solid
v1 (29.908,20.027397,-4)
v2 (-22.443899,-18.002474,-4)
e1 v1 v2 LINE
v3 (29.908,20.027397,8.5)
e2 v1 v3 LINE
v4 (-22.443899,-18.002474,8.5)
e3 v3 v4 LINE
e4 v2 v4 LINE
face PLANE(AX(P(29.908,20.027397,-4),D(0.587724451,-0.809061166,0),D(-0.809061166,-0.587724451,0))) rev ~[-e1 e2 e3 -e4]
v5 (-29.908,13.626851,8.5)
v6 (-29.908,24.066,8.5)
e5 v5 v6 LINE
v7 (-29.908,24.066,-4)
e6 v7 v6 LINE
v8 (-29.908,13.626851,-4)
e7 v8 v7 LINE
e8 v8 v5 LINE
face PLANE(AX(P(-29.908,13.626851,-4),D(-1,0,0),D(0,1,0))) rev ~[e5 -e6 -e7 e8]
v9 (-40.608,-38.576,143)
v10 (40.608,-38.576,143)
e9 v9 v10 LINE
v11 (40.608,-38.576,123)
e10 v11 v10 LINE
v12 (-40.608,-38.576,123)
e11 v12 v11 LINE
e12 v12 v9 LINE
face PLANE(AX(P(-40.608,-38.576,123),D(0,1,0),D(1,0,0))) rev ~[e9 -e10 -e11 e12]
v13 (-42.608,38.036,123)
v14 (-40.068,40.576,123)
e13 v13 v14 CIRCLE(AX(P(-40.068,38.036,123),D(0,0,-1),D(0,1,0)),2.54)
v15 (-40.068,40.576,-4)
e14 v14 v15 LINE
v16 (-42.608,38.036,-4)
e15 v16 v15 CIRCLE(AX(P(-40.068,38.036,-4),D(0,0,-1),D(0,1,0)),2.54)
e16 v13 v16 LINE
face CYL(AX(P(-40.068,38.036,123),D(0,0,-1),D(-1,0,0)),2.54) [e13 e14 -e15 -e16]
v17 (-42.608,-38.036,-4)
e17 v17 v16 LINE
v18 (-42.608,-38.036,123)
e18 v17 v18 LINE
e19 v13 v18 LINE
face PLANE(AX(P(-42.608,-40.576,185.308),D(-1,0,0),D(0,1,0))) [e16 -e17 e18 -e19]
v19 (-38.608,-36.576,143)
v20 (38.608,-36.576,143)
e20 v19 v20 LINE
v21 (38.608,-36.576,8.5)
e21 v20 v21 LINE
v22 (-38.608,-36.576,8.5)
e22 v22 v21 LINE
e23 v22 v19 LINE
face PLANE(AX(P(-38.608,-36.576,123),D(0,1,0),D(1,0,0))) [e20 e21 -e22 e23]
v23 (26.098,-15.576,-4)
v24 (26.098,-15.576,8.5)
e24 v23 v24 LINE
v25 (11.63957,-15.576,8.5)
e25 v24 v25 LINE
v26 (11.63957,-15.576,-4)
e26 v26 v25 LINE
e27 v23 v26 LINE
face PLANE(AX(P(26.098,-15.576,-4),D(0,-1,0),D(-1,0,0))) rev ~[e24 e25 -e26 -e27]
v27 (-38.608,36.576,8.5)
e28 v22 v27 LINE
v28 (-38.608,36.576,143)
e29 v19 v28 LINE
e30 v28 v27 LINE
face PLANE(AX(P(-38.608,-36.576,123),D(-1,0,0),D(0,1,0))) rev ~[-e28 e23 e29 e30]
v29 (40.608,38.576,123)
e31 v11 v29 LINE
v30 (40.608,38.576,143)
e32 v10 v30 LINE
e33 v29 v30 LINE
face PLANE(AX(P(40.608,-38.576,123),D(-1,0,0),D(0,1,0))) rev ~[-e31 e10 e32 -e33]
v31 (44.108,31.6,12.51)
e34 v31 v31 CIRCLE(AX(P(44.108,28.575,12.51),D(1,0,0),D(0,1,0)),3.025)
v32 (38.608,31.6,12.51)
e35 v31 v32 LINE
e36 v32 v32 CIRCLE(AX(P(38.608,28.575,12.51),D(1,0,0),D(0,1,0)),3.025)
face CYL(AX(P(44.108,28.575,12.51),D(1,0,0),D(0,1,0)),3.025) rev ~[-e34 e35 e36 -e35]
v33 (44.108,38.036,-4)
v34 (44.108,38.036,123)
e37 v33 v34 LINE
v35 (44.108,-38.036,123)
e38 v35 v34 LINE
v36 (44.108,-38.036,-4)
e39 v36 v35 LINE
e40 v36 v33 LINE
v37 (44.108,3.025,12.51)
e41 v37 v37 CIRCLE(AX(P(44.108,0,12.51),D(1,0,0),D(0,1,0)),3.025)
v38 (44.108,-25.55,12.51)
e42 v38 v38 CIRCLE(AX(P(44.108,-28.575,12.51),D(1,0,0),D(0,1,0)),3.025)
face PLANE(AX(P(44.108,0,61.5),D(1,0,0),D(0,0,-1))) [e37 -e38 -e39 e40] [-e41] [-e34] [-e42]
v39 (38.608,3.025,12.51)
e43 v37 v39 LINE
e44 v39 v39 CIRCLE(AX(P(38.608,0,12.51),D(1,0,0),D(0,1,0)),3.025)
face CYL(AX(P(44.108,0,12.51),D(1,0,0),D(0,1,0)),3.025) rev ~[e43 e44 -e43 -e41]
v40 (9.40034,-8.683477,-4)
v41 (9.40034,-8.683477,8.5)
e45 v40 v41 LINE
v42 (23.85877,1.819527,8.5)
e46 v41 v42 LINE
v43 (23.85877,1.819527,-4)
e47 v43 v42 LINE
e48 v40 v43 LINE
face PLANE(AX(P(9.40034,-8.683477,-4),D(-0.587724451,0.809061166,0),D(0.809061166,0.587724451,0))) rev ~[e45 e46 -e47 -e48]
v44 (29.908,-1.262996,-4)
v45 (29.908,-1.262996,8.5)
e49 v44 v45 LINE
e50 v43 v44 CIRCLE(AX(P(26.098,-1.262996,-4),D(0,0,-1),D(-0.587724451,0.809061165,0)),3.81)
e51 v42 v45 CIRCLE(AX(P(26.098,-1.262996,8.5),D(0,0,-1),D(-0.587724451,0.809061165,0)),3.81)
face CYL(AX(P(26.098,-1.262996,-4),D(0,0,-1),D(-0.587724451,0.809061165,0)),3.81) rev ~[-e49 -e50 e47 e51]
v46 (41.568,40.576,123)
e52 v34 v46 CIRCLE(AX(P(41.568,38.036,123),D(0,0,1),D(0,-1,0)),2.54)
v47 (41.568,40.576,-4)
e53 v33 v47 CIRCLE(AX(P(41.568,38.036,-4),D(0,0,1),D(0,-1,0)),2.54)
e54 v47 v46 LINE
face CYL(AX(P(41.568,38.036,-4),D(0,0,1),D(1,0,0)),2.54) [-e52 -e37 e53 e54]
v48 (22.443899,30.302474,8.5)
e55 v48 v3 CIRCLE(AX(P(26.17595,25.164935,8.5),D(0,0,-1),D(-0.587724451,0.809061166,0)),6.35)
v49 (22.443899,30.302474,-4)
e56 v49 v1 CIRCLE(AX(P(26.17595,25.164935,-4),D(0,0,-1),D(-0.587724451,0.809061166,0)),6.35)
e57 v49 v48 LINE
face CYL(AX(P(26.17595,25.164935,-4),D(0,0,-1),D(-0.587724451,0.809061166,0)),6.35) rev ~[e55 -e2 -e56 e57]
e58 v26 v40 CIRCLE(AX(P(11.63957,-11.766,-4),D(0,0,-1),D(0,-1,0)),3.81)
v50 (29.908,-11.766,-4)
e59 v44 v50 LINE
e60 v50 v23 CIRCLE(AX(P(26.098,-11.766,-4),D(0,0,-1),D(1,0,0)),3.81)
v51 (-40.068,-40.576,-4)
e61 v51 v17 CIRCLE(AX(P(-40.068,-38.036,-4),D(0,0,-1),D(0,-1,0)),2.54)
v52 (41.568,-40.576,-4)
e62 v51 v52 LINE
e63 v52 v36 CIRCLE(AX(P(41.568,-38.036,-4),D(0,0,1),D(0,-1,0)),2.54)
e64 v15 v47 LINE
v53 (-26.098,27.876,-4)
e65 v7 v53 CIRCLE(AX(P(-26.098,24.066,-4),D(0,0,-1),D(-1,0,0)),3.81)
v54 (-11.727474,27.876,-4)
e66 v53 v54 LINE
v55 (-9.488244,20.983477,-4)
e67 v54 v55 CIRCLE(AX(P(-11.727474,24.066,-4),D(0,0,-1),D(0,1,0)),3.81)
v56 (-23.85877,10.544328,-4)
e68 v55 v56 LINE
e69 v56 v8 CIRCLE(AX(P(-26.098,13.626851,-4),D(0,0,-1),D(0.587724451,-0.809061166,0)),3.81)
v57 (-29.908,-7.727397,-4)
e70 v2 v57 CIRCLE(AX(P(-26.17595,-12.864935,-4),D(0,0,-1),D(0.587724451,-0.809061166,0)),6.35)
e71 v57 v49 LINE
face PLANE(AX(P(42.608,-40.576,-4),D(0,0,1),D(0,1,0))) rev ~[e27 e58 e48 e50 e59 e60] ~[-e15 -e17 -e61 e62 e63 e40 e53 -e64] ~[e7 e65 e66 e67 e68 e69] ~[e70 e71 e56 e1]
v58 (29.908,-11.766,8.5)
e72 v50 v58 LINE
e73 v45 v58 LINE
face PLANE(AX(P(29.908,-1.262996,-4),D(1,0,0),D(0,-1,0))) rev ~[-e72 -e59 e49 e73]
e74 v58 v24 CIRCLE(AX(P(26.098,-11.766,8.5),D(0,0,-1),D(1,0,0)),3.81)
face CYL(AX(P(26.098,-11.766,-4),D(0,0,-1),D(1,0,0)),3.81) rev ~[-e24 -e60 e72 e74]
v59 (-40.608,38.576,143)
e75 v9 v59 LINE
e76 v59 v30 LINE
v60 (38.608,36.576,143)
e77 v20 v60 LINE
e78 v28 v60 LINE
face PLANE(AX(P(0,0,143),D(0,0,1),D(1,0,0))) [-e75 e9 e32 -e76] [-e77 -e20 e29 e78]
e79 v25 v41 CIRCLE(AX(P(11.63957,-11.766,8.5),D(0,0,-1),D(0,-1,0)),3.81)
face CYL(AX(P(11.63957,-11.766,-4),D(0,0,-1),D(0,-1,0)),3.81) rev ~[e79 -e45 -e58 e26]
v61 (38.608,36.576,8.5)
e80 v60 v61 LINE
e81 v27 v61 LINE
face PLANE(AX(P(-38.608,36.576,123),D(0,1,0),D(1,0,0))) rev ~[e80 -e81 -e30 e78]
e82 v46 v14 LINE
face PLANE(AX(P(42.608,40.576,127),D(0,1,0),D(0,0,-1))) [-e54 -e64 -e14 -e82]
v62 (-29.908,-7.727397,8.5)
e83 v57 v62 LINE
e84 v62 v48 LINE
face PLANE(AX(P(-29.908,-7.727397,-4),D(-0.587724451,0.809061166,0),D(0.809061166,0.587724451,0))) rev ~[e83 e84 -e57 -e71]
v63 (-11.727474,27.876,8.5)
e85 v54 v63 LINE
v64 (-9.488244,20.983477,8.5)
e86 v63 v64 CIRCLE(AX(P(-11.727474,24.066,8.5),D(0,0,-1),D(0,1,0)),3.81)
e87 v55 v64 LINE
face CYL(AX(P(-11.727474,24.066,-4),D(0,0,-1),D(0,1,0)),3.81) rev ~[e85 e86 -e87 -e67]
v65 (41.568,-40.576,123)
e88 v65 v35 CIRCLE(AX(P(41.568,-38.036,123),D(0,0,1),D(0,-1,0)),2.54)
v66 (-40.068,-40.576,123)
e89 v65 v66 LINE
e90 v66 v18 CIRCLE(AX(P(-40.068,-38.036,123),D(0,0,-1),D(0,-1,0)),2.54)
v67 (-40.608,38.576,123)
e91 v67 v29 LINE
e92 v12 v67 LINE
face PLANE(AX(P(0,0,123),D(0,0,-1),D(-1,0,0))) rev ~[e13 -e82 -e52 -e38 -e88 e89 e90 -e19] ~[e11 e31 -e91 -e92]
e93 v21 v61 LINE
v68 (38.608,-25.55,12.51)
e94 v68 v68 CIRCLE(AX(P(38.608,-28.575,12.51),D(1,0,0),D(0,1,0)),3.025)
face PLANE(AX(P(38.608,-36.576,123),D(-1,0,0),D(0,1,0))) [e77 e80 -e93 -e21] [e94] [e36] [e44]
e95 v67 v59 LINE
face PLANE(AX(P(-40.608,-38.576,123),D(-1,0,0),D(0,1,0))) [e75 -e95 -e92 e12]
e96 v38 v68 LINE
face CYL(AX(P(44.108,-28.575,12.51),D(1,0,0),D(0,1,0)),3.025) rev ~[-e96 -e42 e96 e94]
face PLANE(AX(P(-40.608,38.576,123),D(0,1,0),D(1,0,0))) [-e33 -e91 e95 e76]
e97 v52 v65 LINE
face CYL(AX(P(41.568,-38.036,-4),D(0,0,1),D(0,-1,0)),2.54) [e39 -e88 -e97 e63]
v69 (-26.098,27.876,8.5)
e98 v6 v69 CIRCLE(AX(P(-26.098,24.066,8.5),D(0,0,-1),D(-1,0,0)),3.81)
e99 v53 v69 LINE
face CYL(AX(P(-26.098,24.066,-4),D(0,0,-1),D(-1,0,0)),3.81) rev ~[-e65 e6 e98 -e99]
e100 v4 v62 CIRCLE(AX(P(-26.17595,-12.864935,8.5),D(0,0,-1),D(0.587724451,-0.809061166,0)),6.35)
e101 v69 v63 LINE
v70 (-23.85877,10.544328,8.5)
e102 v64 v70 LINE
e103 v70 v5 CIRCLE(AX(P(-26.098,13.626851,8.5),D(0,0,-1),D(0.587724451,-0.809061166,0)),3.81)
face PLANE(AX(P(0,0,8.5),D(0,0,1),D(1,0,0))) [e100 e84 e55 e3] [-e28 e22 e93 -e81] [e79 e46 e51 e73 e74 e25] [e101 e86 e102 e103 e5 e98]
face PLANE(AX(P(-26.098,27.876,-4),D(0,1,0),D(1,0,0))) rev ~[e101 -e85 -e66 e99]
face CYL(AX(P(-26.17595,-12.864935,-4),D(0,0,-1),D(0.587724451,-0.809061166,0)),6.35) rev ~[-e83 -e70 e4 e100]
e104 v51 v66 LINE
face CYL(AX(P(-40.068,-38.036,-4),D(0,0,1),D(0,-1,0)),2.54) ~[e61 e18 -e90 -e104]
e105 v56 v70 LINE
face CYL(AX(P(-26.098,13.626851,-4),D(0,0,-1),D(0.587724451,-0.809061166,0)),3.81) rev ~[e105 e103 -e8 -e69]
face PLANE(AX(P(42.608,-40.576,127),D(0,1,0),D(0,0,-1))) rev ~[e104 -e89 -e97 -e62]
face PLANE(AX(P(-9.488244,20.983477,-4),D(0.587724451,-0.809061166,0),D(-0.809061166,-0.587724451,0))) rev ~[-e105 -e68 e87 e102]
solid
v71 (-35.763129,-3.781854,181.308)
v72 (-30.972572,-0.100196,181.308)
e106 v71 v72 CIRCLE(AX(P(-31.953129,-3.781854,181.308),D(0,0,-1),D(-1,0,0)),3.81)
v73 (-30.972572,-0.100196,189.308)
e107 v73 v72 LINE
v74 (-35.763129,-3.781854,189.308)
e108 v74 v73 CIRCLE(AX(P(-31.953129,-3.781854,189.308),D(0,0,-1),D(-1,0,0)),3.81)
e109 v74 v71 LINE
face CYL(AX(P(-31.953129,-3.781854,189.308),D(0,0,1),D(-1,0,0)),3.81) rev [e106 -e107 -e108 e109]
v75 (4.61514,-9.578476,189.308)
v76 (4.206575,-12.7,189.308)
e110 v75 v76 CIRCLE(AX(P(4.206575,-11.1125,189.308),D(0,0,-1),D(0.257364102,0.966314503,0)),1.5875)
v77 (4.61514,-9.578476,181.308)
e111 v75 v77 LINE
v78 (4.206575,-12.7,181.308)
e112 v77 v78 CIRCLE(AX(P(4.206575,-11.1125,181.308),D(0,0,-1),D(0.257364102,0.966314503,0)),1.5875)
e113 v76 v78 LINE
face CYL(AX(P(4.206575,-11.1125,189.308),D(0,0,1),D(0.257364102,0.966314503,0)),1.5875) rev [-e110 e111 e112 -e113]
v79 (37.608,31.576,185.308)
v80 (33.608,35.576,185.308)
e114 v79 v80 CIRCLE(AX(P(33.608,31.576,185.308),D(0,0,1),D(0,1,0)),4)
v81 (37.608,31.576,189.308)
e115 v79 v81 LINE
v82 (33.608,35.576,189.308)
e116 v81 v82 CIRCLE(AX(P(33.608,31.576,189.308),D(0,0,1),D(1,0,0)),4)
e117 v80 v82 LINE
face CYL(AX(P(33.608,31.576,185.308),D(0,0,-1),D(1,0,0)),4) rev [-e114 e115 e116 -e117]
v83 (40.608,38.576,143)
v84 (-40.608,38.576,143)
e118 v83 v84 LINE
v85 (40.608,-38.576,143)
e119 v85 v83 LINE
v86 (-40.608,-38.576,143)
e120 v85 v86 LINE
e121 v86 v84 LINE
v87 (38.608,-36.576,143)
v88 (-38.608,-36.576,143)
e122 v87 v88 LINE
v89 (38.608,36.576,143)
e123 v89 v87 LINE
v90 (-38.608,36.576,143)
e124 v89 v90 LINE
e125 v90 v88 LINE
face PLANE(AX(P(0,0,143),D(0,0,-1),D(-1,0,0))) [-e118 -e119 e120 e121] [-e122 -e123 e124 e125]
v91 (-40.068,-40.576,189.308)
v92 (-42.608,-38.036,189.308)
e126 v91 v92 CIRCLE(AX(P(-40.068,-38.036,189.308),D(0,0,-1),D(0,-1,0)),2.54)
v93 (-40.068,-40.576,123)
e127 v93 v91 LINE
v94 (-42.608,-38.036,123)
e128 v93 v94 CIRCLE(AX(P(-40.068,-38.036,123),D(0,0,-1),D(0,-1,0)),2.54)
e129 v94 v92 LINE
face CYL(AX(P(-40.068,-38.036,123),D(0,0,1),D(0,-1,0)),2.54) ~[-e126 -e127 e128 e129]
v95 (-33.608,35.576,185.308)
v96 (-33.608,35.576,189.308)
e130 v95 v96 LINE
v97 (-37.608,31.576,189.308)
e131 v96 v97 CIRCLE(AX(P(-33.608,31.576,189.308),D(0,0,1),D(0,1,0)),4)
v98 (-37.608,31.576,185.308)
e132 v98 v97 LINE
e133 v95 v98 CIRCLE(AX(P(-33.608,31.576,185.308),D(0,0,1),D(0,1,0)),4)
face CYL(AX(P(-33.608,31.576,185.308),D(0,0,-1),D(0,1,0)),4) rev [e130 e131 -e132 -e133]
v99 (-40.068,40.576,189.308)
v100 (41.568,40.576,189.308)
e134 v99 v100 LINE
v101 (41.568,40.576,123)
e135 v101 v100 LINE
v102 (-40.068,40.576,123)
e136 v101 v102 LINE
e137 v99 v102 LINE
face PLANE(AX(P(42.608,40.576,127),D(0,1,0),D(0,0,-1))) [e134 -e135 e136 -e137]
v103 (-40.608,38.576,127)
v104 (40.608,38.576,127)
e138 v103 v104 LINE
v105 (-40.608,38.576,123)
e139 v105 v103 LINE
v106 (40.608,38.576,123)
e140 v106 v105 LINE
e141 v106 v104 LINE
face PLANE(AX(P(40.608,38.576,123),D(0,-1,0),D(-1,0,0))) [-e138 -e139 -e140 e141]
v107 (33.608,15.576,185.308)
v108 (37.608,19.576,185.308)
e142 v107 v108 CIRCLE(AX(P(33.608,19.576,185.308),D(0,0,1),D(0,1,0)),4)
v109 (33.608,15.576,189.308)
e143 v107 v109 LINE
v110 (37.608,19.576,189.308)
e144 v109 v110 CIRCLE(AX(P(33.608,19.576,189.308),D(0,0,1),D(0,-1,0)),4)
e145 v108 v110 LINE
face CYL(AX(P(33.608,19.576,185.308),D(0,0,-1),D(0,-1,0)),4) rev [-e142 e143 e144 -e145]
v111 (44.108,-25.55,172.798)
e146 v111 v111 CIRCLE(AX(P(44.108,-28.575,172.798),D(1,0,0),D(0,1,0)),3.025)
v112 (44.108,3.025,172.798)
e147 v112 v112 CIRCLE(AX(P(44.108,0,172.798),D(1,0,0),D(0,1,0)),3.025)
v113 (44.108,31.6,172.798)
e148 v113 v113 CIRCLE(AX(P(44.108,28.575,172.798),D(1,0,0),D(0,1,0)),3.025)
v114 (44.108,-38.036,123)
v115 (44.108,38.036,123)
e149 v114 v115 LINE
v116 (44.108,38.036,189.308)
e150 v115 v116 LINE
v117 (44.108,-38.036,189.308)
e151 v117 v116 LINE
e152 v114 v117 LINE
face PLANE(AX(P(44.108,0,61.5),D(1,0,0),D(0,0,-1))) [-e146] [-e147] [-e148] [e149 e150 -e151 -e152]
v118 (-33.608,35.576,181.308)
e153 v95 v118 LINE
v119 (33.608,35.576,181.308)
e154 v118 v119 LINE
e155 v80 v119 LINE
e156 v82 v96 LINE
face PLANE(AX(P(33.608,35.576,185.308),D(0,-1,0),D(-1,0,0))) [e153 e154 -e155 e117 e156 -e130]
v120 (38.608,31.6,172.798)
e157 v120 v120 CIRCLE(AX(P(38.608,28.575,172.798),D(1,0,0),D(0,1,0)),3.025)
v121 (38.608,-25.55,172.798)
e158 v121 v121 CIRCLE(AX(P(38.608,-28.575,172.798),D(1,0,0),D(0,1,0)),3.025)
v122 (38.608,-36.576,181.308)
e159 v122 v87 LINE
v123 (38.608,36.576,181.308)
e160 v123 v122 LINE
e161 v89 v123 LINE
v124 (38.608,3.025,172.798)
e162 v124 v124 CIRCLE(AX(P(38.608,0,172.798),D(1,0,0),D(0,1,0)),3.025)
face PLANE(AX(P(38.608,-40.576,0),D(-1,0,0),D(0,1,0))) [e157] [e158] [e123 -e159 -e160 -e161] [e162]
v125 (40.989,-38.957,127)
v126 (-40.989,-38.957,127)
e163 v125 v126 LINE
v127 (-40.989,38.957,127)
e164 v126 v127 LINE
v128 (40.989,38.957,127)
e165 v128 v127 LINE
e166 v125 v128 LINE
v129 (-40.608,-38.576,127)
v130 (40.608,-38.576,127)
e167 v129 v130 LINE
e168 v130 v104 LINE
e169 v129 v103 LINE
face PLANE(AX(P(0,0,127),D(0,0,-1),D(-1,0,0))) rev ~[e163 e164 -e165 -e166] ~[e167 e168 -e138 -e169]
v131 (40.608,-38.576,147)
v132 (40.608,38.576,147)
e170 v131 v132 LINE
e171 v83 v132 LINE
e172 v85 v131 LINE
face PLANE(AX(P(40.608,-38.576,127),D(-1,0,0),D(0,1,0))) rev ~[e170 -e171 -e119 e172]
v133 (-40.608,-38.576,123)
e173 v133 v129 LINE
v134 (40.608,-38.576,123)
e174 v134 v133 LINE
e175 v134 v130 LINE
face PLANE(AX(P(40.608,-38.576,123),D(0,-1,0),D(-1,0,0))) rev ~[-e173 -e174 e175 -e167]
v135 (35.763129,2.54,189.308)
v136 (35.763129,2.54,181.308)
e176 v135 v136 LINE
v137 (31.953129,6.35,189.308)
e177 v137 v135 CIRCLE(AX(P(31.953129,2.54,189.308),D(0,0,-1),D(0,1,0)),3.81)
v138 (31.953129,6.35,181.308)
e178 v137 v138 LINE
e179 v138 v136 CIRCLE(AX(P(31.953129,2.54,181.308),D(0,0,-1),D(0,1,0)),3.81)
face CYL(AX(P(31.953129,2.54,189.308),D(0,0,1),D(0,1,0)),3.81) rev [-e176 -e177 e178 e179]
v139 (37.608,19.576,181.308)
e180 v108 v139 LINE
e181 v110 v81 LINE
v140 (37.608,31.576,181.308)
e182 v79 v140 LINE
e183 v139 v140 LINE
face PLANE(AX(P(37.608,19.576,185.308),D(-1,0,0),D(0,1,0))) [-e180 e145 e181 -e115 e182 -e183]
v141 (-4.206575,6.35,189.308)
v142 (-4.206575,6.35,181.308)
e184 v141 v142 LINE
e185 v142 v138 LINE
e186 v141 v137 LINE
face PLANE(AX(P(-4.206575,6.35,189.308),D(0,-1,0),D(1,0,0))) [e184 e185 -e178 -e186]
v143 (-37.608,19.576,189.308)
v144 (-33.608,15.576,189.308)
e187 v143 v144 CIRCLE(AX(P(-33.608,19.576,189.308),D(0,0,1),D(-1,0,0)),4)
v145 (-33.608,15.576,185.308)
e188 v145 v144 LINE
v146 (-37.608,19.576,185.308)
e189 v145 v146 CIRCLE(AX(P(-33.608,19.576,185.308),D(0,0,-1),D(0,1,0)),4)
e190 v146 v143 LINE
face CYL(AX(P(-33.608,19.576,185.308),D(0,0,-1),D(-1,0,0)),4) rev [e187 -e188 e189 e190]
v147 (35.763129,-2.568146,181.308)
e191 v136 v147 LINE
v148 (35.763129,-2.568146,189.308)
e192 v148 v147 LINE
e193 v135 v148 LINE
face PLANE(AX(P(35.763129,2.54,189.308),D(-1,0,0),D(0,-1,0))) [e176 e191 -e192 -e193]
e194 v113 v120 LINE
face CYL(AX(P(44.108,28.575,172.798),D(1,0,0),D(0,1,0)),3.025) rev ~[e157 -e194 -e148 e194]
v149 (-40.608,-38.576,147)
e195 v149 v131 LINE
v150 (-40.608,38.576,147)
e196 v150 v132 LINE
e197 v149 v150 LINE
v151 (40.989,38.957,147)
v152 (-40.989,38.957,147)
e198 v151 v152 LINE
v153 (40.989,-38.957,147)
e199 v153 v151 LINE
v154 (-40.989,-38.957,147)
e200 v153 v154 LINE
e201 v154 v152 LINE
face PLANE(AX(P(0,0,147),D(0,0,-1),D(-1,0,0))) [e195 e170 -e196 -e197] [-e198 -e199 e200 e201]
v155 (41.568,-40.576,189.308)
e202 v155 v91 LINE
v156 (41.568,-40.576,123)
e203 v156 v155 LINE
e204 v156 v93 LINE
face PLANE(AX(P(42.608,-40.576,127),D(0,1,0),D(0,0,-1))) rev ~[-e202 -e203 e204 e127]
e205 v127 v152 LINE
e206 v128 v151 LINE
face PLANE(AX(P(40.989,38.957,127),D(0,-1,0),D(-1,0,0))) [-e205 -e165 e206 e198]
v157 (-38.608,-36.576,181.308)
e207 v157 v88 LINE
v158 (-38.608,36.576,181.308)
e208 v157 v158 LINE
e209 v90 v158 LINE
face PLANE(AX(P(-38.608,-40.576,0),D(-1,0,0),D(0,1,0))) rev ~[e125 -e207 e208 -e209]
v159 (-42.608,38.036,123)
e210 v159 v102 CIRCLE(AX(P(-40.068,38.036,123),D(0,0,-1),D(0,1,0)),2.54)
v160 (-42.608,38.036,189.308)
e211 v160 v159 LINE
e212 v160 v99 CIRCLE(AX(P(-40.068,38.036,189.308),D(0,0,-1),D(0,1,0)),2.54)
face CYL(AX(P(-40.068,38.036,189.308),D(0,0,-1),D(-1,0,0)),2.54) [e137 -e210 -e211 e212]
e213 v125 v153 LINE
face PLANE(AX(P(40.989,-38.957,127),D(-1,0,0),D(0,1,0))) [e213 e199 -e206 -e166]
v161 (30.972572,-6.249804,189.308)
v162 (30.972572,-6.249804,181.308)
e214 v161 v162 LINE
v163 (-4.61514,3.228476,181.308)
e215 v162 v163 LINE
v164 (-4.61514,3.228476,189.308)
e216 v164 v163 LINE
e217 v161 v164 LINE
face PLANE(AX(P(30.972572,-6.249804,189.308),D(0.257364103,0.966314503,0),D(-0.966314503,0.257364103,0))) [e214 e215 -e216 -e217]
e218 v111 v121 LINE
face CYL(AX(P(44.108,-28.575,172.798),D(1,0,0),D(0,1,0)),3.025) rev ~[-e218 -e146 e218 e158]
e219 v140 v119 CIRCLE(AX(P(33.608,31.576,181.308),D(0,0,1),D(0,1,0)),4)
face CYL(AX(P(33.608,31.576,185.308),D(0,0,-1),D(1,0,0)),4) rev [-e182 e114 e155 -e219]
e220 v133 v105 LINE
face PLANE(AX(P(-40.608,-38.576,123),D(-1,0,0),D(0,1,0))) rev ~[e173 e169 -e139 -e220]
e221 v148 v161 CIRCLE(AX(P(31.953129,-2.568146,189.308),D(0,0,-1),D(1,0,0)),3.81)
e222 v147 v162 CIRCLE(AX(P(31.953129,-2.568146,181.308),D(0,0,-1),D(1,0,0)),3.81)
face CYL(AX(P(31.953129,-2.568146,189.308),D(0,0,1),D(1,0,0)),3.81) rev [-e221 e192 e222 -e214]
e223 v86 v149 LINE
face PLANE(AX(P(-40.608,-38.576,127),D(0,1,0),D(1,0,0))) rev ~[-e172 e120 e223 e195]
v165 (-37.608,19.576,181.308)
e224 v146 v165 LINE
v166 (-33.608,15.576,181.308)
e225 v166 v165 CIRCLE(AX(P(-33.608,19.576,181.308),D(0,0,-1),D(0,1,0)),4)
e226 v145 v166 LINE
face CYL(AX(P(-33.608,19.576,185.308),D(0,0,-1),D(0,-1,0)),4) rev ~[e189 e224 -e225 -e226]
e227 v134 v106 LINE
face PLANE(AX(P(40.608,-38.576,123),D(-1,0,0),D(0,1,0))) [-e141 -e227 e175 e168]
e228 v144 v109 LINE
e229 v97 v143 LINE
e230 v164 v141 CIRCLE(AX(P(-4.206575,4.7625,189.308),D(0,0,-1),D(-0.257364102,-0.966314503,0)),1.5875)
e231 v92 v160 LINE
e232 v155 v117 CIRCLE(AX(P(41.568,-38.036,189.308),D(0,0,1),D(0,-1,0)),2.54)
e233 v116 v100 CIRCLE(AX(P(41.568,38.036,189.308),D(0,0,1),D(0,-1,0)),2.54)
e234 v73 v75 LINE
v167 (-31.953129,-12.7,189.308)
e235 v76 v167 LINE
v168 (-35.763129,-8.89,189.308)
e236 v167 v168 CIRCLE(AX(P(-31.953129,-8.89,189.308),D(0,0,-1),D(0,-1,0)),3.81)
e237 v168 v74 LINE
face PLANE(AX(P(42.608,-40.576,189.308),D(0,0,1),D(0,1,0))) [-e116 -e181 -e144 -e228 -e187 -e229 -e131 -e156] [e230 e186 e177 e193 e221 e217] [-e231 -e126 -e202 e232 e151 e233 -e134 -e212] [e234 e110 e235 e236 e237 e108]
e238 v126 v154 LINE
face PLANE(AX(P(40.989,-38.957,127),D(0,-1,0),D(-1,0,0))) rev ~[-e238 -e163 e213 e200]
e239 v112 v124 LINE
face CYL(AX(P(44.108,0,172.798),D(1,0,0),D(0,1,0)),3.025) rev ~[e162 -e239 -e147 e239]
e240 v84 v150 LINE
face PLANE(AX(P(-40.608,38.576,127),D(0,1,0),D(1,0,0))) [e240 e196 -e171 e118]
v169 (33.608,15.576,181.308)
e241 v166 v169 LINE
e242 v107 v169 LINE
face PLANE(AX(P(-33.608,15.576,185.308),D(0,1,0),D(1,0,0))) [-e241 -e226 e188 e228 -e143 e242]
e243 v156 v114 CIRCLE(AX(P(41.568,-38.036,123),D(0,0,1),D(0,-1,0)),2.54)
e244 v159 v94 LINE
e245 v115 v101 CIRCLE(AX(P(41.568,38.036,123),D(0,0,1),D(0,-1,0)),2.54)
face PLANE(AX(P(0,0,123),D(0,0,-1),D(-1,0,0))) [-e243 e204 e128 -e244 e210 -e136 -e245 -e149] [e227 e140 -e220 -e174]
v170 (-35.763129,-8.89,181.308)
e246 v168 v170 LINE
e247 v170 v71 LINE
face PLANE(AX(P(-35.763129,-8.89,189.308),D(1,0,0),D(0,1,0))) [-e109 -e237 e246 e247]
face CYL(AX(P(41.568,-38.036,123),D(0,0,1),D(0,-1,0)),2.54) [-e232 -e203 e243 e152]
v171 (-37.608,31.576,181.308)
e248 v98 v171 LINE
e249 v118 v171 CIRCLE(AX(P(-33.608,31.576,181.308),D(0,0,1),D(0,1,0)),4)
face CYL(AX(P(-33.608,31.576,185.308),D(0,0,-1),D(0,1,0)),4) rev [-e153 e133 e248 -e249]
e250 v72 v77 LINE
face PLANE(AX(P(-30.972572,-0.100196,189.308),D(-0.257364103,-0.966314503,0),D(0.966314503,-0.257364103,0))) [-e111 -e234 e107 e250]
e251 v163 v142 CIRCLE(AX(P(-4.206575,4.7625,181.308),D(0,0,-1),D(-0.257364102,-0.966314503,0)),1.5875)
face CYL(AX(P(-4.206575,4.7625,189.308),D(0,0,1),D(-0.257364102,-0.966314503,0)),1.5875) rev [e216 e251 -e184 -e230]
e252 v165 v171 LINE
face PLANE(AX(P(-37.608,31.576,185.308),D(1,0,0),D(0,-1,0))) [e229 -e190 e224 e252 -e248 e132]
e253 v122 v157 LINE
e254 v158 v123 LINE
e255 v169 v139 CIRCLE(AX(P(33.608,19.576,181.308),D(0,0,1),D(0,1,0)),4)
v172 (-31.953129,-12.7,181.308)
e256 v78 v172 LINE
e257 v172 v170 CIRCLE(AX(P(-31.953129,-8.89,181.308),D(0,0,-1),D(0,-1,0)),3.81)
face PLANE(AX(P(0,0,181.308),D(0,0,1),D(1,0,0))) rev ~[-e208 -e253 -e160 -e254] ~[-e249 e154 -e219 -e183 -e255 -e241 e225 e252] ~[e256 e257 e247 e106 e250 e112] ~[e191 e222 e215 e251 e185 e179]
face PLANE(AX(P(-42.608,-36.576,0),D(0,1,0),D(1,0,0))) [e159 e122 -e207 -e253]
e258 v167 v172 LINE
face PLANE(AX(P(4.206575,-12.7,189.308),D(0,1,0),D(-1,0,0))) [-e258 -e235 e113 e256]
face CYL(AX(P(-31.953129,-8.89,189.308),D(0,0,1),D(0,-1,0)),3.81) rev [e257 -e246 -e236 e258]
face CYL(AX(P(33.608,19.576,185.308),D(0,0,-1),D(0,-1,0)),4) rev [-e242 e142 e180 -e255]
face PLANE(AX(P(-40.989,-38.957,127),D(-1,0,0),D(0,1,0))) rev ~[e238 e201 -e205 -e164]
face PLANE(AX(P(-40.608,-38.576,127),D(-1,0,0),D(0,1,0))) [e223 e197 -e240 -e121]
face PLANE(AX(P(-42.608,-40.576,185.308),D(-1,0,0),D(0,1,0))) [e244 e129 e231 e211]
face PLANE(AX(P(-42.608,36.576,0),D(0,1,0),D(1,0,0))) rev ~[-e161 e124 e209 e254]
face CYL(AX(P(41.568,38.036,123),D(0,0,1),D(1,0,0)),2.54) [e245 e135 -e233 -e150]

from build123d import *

# Parameters (mm, degrees)
SKETCH1_W            = 85.216
SKETCH1_H            = 81.152
BOSS_EXTRUDE1_DEPTH  = 185.308
SHELL2_T             = -4
SHELL3_T             = -4
SKETCH4_W            = 81.216
SKETCH4_H            = 77.152
SKETCH4_W_2          = 77.216
SKETCH4_H_2          = 73.152
BOSS_EXTRUDE2_DEPTH  = 20
SKETCH5_W            = 81.978
SKETCH5_H            = 77.914
SKETCH5_W_2          = 77.216
SKETCH5_H_2          = 73.152
CUT_EXTRUDE2_DEPTH   = 20
SKETCH6_W            = 75.216
SKETCH6_H            = 20
CUT_EXTRUDE3_DEPTH   = 4
FILLET3_R            = 4
SKETCH7_W            = 85.216
SKETCH7_H            = 81.152
BOSS_EXTRUDE3_DEPTH  = 4
SKETCH8_W            = 85.216
SKETCH8_H            = 81.152
BOSS_EXTRUDE4_DEPTH  = 4
SKETCH9_R            = 3.025
CUT_EXTRUDE4_DEPTH   = 6
SKETCH10_W           = 77.216
SKETCH10_H           = 73.152
BOSS_EXTRUDE5_DEPTH  = 4.500000096
CUT_EXTRUDE5_DEPTH   = 12.500000096
CUT_EXTRUDE6_DEPTH   = 8
SKETCH13_W           = 62.308
SKETCH13_H           = 81.152
BOSS_EXTRUDE7_DEPTH  = 1.5
SKETCH15_W           = 131
SKETCH15_H           = 81.152
BOSS_EXTRUDE8_DEPTH  = 1.5
FILLET4_R            = 2.54
FILLET5_R            = 2.54
SKETCH16_R           = 3.025
CUT_EXTRUDE9_DEPTH   = 19.5
SKETCH18_W           = 62.209478129
SKETCH18_H           = 16.943734599
BOSS_EXTRUDE9_DEPTH  = 8
SKETCH19_W           = 60.72535539
SKETCH19_H           = 14.841227386
BOSS_EXTRUDE10_DEPTH = 12.5
SKETCH20_W           = 81.216
SKETCH20_H           = 77.152
SKETCH20_W_2         = 77.216
SKETCH20_H_2         = 73.152
BOSS_EXTRUDE11_DEPTH = 20
SKETCH21_W           = 81.216
SKETCH21_H           = 77.152
CUT_EXTRUDE10_DEPTH  = 20


with BuildPart() as part:
    # Sketch1 → Boss-Extrude1 (new body)
    with BuildSketch(Plane.XY):
        Rectangle(SKETCH1_W, SKETCH1_H)
    extrude(amount=BOSS_EXTRUDE1_DEPTH)


with BuildPart() as body_2:
    # Split1: the piece on the far side of the plane
    add(part.part)
    split(bisect_by=Plane(origin=(0, 0, 127), x_dir=(-1, 0, 0), z_dir=(0, 0, -1)), keep=Keep.BOTTOM)

    # Shell3
    shell3_openings = [body_2.faces().sort_by_distance(p)[0] for p in [
        (0, 0, 127),
    ]]
    offset(amount=SHELL3_T, openings=shell3_openings, kind=Kind.INTERSECTION)

    # Sketch5 → Cut-Extrude2 (cut)
    with BuildSketch(Plane(origin=(0, 0, 127), x_dir=(-1, 0, 0), z_dir=(0, 0, -1))):
        Rectangle(SKETCH5_W, SKETCH5_H)
        Rectangle(SKETCH5_W_2, SKETCH5_H_2, mode=Mode.SUBTRACT)
    extrude(amount=-CUT_EXTRUDE2_DEPTH, mode=Mode.SUBTRACT)

    # Sketch6 → Cut-Extrude3 (cut)
    with BuildSketch(Plane.XY.offset(185.308)):
        with Locations((0, 25.576)):
            Rectangle(SKETCH6_W, SKETCH6_H)
    extrude(amount=-CUT_EXTRUDE3_DEPTH, mode=Mode.SUBTRACT)

    # Fillet3
    fillet3_edges = [body_2.edges().sort_by_distance(p)[0] for p in [
        (37.608, 35.576, 183.308),
        (37.608, 15.576, 183.308),
        (-37.608, 15.576, 183.308),
        (-37.608, 35.576, 183.308),
    ]]
    fillet(fillet3_edges, radius=FILLET3_R)

    # Sketch7 → Boss-Extrude3 (add)
    with BuildSketch(Plane.XY.offset(185.308)):
        Rectangle(SKETCH7_W, SKETCH7_H)
        with BuildLine():
            Line((-33.608, 15.576), (33.608, 15.576))
            ThreePointArc((33.608, 15.576), (36.436427125, 16.747572875), (37.608, 19.576))
            Line((37.608, 19.576), (37.608, 31.576))
            ThreePointArc((37.608, 31.576), (36.436427125, 34.404427125), (33.608, 35.576))
            Line((33.608, 35.576), (-33.608, 35.576))
            ThreePointArc((-33.608, 35.576), (-36.436427125, 34.404427125), (-37.608, 31.576))
            Line((-37.608, 31.576), (-37.608, 19.576))
            ThreePointArc((-37.608, 19.576), (-36.436427125, 16.747572875), (-33.608, 15.576))
        make_face(mode=Mode.SUBTRACT)
    extrude(amount=BOSS_EXTRUDE3_DEPTH)

    # Sketch9 → Cut-Extrude4 (cut)
    with BuildSketch(Plane.XY.offset(189.308)):
        with Locations((-21.304, -27.876)):
            Circle(SKETCH9_R)
        with Locations((0, -27.876)):
            Circle(SKETCH9_R)
        with Locations((21.304, -27.876)):
            Circle(SKETCH9_R)
    cut_extrude4 = extrude(amount=-CUT_EXTRUDE4_DEPTH, mode=Mode.SUBTRACT)

    # Sketch12 → Cut-Extrude6 (cut)
    with BuildSketch(Plane.XY.offset(189.308)):
        with BuildLine():
            Line((-30.972571902, -0.100195505), (4.615140384, -9.578475727))
            ThreePointArc((4.615140384, -9.578475727), (5.780649168, -11.318525139), (4.206574871, -12.7))
            Line((4.206574871, -12.7), (-31.953129133, -12.7))
            ThreePointArc((-31.953129133, -12.7), (-34.64720597, -11.584076836), (-35.763129133, -8.89))
            Line((-35.763129133, -8.89), (-35.763129133, -3.781853761))
            ThreePointArc((-35.763129133, -3.781853761), (-34.274785541, -0.760924844), (-30.972571902, -0.100195505))
        make_face()
        with BuildLine():
            Line((-4.206574871, 6.35), (31.953129133, 6.35))
            ThreePointArc((31.953129133, 6.35), (34.64720597, 5.234076836), (35.763129133, 2.54))
            Line((35.763129133, 2.54), (35.763129133, -2.568146239))
            ThreePointArc((35.763129133, -2.568146239), (34.274785541, -5.589075156), (30.972571902, -6.249804495))
            Line((30.972571902, -6.249804495), (-4.615140384, 3.228475727))
            ThreePointArc((-4.615140384, 3.228475727), (-5.780649168, 4.968525139), (-4.206574871, 6.35))
        make_face()
    extrude(amount=-CUT_EXTRUDE6_DEPTH, mode=Mode.SUBTRACT)


with BuildPart() as part_1:
    add(part.part)

    # Split1
    split(bisect_by=Plane(origin=(0, 0, 127), x_dir=(-1, 0, 0), z_dir=(0, 0, -1)), keep=Keep.TOP)

    # Shell2
    shell2_openings = [part_1.faces().sort_by_distance(p)[0] for p in [
        (0, 0, 127),
    ]]
    offset(amount=SHELL2_T, openings=shell2_openings, kind=Kind.INTERSECTION)

    # Sketch4 → Boss-Extrude2 (add)
    with BuildSketch(Plane.XY.offset(127)):
        Rectangle(SKETCH4_W, SKETCH4_H)
        Rectangle(SKETCH4_W_2, SKETCH4_H_2, mode=Mode.SUBTRACT)
    extrude(amount=BOSS_EXTRUDE2_DEPTH)

    # Sketch8 → Boss-Extrude4 (add)
    with BuildSketch(Plane(origin=(0, 0, 0), x_dir=(-1, 0, 0), z_dir=(0, 0, -1))):
        Rectangle(SKETCH8_W, SKETCH8_H)
    extrude(amount=BOSS_EXTRUDE4_DEPTH)

    # Mirror1: Cut-Extrude4 across plane
    add(cut_extrude4.mirror(Plane.XY.offset(92.654)), mode=Mode.SUBTRACT)

    # Sketch10 → Boss-Extrude5 (add)
    with BuildSketch(Plane.XY.offset(4)):
        Rectangle(SKETCH10_W, SKETCH10_H)
    extrude(amount=BOSS_EXTRUDE5_DEPTH)

    # Sketch11 → Cut-Extrude5 (cut)
    with BuildSketch(Plane(origin=(0, 0, -4), x_dir=(-1, 0, 0), z_dir=(0, 0, -1))):
        with BuildLine():
            ThreePointArc((29.908, 24.066), (28.792076836, 26.760076836), (26.098, 27.876))
            Line((26.098, 27.876), (11.727473696, 27.876))
            ThreePointArc((11.727473696, 27.876), (8.103904131, 25.243218589), (9.488243538, 20.983476959))
            Line((9.488243538, 20.983476959), (23.858769841, 10.544328421))
            ThreePointArc((23.858769841, 10.544328421), (27.827831364, 10.232181603), (29.908, 13.626851462))
            Line((29.908, 13.626851462), (29.908, 24.066))
        make_face()
        with BuildLine():
            ThreePointArc((-23.858769841, 1.819526927), (-27.827831364, 2.131673746), (-29.908, -1.262996113))
            Line((-29.908, -1.262996113), (-29.908, -11.766))
            ThreePointArc((-29.908, -11.766), (-28.792076836, -14.460076836), (-26.098, -15.576))
            Line((-26.098, -15.576), (-11.639570458, -15.576))
            ThreePointArc((-11.639570458, -15.576), (-8.016000893, -12.943218589), (-9.400340299, -8.683476959))
            Line((-9.400340299, -8.683476959), (-23.858769841, 1.819526927))
        make_face()
        with BuildLine():
            ThreePointArc((22.443899471, -18.002473668), (31.313488137, -16.596985531), (29.908, -7.727396865))
            Line((29.908, -7.727396865), (-22.443899471, 30.302473668))
            ThreePointArc((-22.443899471, 30.302473668), (-31.313488137, 28.896985531), (-29.908, 20.027396865))
            Line((-29.908, 20.027396865), (22.443899471, -18.002473668))
        make_face()
    extrude(amount=-CUT_EXTRUDE5_DEPTH, mode=Mode.SUBTRACT)

    add(body_2.part)  # Boss-Extrude7 merges body 2
    # Sketch13 → Boss-Extrude7 (add)
    with BuildSketch(Plane.ZY.offset(-42.608)):
        with Locations((158.154, 0)):
            Rectangle(SKETCH13_W, SKETCH13_H)
    extrude(amount=-BOSS_EXTRUDE7_DEPTH)

    # Sketch15 → Boss-Extrude8 (add)
    with BuildSketch(Plane(origin=(42.608, 0, 0), x_dir=(0, 0, -1), z_dir=(1, 0, 0))):
        with Locations((-61.5, 0)):
            Rectangle(SKETCH15_W, SKETCH15_H)
    extrude(amount=BOSS_EXTRUDE8_DEPTH)


with BuildPart() as body_2_2:
    # Split2: the piece on the far side of the plane
    add(part_1.part)
    split(bisect_by=Plane(origin=(0, 0, 123), x_dir=(-1, 0, 0), z_dir=(0, 0, -1)), keep=Keep.BOTTOM)

    # Fillet4
    fillet4_edges = [body_2_2.edges().sort_by_distance(p)[0] for p in [
        (44.108, -40.576, 156.154),
        (44.108, 40.576, 156.154),
        (-42.608, 40.576, 156.154),
        (-42.608, -40.576, 156.154),
    ]]
    fillet(fillet4_edges, radius=FILLET4_R)


with BuildPart() as part_2:
    add(part_1.part)

    # Split2
    split(bisect_by=Plane(origin=(0, 0, 123), x_dir=(-1, 0, 0), z_dir=(0, 0, -1)), keep=Keep.TOP)

    # Fillet5
    fillet5_edges = [part_2.edges().sort_by_distance(p)[0] for p in [
        (44.108, -40.576, 59.5),
        (44.108, 40.576, 59.5),
        (-42.608, 40.576, 59.5),
        (-42.608, -40.576, 59.5),
    ]]
    fillet(fillet5_edges, radius=FILLET5_R)


with BuildPart() as cut_extrude9_tool:
    # Sketch16 → Cut-Extrude9 (new body)
    with BuildSketch(Plane(origin=(44.108, 0, 0), x_dir=(0, 0, -1), z_dir=(1, 0, 0))):
        with Locations(Location((-172.798, 28.575, 0), (0, 0, 90))):
            Circle(SKETCH16_R)
        with Locations(Location((-172.798, 0, 0), (0, 0, 90))):
            Circle(SKETCH16_R)
        with Locations(Location((-172.798, -28.575, 0), (0, 0, 90))):
            Circle(SKETCH16_R)
        with Locations(Location((-12.51, 28.575, 0), (0, 0, 90))):
            Circle(SKETCH16_R)
        with Locations(Location((-12.51, 0, 0), (0, 0, 90))):
            Circle(SKETCH16_R)
        with Locations(Location((-12.51, -28.575, 0), (0, 0, 90))):
            Circle(SKETCH16_R)
    extrude(amount=-CUT_EXTRUDE9_DEPTH)


with BuildPart() as part_3:
    add(part_2.part)

    # Cut-Extrude9: cut by cut_extrude9_tool
    add(cut_extrude9_tool.part, mode=Mode.SUBTRACT)

    # Sketch19 → Boss-Extrude10 (add)
    with BuildSketch(Plane(origin=(0, 0, -4), x_dir=(-1, 0, 0), z_dir=(0, 0, -1))):
        with Locations((-1.053899817, -28.260170482)):
            Rectangle(SKETCH19_W, SKETCH19_H)
    extrude(amount=-BOSS_EXTRUDE10_DEPTH)

    # Sketch20 → Boss-Extrude11 (add)
    with BuildSketch(Plane.XY.offset(123)):
        Rectangle(SKETCH20_W, SKETCH20_H)
        Rectangle(SKETCH20_W_2, SKETCH20_H_2, mode=Mode.SUBTRACT)
    extrude(amount=BOSS_EXTRUDE11_DEPTH)


with BuildPart() as body_2_2_1:
    add(body_2_2.part)

    # Cut-Extrude9: cut by cut_extrude9_tool
    add(cut_extrude9_tool.part, mode=Mode.SUBTRACT)

    # Sketch18 → Boss-Extrude9 (add)
    with BuildSketch(Plane.XY.offset(189.308)):
        with Locations((0.188161552, -26.961563086)):
            Rectangle(SKETCH18_W, SKETCH18_H)
    extrude(amount=-BOSS_EXTRUDE9_DEPTH)

    # Sketch21 → Cut-Extrude10 (cut)
    with BuildSketch(Plane(origin=(0, 0, 123), x_dir=(-1, 0, 0), z_dir=(0, 0, -1))):
        Rectangle(SKETCH21_W, SKETCH21_H)
    extrude(amount=-CUT_EXTRUDE10_DEPTH, mode=Mode.SUBTRACT)


solid = Compound([part_3.part, body_2_2_1.part])
